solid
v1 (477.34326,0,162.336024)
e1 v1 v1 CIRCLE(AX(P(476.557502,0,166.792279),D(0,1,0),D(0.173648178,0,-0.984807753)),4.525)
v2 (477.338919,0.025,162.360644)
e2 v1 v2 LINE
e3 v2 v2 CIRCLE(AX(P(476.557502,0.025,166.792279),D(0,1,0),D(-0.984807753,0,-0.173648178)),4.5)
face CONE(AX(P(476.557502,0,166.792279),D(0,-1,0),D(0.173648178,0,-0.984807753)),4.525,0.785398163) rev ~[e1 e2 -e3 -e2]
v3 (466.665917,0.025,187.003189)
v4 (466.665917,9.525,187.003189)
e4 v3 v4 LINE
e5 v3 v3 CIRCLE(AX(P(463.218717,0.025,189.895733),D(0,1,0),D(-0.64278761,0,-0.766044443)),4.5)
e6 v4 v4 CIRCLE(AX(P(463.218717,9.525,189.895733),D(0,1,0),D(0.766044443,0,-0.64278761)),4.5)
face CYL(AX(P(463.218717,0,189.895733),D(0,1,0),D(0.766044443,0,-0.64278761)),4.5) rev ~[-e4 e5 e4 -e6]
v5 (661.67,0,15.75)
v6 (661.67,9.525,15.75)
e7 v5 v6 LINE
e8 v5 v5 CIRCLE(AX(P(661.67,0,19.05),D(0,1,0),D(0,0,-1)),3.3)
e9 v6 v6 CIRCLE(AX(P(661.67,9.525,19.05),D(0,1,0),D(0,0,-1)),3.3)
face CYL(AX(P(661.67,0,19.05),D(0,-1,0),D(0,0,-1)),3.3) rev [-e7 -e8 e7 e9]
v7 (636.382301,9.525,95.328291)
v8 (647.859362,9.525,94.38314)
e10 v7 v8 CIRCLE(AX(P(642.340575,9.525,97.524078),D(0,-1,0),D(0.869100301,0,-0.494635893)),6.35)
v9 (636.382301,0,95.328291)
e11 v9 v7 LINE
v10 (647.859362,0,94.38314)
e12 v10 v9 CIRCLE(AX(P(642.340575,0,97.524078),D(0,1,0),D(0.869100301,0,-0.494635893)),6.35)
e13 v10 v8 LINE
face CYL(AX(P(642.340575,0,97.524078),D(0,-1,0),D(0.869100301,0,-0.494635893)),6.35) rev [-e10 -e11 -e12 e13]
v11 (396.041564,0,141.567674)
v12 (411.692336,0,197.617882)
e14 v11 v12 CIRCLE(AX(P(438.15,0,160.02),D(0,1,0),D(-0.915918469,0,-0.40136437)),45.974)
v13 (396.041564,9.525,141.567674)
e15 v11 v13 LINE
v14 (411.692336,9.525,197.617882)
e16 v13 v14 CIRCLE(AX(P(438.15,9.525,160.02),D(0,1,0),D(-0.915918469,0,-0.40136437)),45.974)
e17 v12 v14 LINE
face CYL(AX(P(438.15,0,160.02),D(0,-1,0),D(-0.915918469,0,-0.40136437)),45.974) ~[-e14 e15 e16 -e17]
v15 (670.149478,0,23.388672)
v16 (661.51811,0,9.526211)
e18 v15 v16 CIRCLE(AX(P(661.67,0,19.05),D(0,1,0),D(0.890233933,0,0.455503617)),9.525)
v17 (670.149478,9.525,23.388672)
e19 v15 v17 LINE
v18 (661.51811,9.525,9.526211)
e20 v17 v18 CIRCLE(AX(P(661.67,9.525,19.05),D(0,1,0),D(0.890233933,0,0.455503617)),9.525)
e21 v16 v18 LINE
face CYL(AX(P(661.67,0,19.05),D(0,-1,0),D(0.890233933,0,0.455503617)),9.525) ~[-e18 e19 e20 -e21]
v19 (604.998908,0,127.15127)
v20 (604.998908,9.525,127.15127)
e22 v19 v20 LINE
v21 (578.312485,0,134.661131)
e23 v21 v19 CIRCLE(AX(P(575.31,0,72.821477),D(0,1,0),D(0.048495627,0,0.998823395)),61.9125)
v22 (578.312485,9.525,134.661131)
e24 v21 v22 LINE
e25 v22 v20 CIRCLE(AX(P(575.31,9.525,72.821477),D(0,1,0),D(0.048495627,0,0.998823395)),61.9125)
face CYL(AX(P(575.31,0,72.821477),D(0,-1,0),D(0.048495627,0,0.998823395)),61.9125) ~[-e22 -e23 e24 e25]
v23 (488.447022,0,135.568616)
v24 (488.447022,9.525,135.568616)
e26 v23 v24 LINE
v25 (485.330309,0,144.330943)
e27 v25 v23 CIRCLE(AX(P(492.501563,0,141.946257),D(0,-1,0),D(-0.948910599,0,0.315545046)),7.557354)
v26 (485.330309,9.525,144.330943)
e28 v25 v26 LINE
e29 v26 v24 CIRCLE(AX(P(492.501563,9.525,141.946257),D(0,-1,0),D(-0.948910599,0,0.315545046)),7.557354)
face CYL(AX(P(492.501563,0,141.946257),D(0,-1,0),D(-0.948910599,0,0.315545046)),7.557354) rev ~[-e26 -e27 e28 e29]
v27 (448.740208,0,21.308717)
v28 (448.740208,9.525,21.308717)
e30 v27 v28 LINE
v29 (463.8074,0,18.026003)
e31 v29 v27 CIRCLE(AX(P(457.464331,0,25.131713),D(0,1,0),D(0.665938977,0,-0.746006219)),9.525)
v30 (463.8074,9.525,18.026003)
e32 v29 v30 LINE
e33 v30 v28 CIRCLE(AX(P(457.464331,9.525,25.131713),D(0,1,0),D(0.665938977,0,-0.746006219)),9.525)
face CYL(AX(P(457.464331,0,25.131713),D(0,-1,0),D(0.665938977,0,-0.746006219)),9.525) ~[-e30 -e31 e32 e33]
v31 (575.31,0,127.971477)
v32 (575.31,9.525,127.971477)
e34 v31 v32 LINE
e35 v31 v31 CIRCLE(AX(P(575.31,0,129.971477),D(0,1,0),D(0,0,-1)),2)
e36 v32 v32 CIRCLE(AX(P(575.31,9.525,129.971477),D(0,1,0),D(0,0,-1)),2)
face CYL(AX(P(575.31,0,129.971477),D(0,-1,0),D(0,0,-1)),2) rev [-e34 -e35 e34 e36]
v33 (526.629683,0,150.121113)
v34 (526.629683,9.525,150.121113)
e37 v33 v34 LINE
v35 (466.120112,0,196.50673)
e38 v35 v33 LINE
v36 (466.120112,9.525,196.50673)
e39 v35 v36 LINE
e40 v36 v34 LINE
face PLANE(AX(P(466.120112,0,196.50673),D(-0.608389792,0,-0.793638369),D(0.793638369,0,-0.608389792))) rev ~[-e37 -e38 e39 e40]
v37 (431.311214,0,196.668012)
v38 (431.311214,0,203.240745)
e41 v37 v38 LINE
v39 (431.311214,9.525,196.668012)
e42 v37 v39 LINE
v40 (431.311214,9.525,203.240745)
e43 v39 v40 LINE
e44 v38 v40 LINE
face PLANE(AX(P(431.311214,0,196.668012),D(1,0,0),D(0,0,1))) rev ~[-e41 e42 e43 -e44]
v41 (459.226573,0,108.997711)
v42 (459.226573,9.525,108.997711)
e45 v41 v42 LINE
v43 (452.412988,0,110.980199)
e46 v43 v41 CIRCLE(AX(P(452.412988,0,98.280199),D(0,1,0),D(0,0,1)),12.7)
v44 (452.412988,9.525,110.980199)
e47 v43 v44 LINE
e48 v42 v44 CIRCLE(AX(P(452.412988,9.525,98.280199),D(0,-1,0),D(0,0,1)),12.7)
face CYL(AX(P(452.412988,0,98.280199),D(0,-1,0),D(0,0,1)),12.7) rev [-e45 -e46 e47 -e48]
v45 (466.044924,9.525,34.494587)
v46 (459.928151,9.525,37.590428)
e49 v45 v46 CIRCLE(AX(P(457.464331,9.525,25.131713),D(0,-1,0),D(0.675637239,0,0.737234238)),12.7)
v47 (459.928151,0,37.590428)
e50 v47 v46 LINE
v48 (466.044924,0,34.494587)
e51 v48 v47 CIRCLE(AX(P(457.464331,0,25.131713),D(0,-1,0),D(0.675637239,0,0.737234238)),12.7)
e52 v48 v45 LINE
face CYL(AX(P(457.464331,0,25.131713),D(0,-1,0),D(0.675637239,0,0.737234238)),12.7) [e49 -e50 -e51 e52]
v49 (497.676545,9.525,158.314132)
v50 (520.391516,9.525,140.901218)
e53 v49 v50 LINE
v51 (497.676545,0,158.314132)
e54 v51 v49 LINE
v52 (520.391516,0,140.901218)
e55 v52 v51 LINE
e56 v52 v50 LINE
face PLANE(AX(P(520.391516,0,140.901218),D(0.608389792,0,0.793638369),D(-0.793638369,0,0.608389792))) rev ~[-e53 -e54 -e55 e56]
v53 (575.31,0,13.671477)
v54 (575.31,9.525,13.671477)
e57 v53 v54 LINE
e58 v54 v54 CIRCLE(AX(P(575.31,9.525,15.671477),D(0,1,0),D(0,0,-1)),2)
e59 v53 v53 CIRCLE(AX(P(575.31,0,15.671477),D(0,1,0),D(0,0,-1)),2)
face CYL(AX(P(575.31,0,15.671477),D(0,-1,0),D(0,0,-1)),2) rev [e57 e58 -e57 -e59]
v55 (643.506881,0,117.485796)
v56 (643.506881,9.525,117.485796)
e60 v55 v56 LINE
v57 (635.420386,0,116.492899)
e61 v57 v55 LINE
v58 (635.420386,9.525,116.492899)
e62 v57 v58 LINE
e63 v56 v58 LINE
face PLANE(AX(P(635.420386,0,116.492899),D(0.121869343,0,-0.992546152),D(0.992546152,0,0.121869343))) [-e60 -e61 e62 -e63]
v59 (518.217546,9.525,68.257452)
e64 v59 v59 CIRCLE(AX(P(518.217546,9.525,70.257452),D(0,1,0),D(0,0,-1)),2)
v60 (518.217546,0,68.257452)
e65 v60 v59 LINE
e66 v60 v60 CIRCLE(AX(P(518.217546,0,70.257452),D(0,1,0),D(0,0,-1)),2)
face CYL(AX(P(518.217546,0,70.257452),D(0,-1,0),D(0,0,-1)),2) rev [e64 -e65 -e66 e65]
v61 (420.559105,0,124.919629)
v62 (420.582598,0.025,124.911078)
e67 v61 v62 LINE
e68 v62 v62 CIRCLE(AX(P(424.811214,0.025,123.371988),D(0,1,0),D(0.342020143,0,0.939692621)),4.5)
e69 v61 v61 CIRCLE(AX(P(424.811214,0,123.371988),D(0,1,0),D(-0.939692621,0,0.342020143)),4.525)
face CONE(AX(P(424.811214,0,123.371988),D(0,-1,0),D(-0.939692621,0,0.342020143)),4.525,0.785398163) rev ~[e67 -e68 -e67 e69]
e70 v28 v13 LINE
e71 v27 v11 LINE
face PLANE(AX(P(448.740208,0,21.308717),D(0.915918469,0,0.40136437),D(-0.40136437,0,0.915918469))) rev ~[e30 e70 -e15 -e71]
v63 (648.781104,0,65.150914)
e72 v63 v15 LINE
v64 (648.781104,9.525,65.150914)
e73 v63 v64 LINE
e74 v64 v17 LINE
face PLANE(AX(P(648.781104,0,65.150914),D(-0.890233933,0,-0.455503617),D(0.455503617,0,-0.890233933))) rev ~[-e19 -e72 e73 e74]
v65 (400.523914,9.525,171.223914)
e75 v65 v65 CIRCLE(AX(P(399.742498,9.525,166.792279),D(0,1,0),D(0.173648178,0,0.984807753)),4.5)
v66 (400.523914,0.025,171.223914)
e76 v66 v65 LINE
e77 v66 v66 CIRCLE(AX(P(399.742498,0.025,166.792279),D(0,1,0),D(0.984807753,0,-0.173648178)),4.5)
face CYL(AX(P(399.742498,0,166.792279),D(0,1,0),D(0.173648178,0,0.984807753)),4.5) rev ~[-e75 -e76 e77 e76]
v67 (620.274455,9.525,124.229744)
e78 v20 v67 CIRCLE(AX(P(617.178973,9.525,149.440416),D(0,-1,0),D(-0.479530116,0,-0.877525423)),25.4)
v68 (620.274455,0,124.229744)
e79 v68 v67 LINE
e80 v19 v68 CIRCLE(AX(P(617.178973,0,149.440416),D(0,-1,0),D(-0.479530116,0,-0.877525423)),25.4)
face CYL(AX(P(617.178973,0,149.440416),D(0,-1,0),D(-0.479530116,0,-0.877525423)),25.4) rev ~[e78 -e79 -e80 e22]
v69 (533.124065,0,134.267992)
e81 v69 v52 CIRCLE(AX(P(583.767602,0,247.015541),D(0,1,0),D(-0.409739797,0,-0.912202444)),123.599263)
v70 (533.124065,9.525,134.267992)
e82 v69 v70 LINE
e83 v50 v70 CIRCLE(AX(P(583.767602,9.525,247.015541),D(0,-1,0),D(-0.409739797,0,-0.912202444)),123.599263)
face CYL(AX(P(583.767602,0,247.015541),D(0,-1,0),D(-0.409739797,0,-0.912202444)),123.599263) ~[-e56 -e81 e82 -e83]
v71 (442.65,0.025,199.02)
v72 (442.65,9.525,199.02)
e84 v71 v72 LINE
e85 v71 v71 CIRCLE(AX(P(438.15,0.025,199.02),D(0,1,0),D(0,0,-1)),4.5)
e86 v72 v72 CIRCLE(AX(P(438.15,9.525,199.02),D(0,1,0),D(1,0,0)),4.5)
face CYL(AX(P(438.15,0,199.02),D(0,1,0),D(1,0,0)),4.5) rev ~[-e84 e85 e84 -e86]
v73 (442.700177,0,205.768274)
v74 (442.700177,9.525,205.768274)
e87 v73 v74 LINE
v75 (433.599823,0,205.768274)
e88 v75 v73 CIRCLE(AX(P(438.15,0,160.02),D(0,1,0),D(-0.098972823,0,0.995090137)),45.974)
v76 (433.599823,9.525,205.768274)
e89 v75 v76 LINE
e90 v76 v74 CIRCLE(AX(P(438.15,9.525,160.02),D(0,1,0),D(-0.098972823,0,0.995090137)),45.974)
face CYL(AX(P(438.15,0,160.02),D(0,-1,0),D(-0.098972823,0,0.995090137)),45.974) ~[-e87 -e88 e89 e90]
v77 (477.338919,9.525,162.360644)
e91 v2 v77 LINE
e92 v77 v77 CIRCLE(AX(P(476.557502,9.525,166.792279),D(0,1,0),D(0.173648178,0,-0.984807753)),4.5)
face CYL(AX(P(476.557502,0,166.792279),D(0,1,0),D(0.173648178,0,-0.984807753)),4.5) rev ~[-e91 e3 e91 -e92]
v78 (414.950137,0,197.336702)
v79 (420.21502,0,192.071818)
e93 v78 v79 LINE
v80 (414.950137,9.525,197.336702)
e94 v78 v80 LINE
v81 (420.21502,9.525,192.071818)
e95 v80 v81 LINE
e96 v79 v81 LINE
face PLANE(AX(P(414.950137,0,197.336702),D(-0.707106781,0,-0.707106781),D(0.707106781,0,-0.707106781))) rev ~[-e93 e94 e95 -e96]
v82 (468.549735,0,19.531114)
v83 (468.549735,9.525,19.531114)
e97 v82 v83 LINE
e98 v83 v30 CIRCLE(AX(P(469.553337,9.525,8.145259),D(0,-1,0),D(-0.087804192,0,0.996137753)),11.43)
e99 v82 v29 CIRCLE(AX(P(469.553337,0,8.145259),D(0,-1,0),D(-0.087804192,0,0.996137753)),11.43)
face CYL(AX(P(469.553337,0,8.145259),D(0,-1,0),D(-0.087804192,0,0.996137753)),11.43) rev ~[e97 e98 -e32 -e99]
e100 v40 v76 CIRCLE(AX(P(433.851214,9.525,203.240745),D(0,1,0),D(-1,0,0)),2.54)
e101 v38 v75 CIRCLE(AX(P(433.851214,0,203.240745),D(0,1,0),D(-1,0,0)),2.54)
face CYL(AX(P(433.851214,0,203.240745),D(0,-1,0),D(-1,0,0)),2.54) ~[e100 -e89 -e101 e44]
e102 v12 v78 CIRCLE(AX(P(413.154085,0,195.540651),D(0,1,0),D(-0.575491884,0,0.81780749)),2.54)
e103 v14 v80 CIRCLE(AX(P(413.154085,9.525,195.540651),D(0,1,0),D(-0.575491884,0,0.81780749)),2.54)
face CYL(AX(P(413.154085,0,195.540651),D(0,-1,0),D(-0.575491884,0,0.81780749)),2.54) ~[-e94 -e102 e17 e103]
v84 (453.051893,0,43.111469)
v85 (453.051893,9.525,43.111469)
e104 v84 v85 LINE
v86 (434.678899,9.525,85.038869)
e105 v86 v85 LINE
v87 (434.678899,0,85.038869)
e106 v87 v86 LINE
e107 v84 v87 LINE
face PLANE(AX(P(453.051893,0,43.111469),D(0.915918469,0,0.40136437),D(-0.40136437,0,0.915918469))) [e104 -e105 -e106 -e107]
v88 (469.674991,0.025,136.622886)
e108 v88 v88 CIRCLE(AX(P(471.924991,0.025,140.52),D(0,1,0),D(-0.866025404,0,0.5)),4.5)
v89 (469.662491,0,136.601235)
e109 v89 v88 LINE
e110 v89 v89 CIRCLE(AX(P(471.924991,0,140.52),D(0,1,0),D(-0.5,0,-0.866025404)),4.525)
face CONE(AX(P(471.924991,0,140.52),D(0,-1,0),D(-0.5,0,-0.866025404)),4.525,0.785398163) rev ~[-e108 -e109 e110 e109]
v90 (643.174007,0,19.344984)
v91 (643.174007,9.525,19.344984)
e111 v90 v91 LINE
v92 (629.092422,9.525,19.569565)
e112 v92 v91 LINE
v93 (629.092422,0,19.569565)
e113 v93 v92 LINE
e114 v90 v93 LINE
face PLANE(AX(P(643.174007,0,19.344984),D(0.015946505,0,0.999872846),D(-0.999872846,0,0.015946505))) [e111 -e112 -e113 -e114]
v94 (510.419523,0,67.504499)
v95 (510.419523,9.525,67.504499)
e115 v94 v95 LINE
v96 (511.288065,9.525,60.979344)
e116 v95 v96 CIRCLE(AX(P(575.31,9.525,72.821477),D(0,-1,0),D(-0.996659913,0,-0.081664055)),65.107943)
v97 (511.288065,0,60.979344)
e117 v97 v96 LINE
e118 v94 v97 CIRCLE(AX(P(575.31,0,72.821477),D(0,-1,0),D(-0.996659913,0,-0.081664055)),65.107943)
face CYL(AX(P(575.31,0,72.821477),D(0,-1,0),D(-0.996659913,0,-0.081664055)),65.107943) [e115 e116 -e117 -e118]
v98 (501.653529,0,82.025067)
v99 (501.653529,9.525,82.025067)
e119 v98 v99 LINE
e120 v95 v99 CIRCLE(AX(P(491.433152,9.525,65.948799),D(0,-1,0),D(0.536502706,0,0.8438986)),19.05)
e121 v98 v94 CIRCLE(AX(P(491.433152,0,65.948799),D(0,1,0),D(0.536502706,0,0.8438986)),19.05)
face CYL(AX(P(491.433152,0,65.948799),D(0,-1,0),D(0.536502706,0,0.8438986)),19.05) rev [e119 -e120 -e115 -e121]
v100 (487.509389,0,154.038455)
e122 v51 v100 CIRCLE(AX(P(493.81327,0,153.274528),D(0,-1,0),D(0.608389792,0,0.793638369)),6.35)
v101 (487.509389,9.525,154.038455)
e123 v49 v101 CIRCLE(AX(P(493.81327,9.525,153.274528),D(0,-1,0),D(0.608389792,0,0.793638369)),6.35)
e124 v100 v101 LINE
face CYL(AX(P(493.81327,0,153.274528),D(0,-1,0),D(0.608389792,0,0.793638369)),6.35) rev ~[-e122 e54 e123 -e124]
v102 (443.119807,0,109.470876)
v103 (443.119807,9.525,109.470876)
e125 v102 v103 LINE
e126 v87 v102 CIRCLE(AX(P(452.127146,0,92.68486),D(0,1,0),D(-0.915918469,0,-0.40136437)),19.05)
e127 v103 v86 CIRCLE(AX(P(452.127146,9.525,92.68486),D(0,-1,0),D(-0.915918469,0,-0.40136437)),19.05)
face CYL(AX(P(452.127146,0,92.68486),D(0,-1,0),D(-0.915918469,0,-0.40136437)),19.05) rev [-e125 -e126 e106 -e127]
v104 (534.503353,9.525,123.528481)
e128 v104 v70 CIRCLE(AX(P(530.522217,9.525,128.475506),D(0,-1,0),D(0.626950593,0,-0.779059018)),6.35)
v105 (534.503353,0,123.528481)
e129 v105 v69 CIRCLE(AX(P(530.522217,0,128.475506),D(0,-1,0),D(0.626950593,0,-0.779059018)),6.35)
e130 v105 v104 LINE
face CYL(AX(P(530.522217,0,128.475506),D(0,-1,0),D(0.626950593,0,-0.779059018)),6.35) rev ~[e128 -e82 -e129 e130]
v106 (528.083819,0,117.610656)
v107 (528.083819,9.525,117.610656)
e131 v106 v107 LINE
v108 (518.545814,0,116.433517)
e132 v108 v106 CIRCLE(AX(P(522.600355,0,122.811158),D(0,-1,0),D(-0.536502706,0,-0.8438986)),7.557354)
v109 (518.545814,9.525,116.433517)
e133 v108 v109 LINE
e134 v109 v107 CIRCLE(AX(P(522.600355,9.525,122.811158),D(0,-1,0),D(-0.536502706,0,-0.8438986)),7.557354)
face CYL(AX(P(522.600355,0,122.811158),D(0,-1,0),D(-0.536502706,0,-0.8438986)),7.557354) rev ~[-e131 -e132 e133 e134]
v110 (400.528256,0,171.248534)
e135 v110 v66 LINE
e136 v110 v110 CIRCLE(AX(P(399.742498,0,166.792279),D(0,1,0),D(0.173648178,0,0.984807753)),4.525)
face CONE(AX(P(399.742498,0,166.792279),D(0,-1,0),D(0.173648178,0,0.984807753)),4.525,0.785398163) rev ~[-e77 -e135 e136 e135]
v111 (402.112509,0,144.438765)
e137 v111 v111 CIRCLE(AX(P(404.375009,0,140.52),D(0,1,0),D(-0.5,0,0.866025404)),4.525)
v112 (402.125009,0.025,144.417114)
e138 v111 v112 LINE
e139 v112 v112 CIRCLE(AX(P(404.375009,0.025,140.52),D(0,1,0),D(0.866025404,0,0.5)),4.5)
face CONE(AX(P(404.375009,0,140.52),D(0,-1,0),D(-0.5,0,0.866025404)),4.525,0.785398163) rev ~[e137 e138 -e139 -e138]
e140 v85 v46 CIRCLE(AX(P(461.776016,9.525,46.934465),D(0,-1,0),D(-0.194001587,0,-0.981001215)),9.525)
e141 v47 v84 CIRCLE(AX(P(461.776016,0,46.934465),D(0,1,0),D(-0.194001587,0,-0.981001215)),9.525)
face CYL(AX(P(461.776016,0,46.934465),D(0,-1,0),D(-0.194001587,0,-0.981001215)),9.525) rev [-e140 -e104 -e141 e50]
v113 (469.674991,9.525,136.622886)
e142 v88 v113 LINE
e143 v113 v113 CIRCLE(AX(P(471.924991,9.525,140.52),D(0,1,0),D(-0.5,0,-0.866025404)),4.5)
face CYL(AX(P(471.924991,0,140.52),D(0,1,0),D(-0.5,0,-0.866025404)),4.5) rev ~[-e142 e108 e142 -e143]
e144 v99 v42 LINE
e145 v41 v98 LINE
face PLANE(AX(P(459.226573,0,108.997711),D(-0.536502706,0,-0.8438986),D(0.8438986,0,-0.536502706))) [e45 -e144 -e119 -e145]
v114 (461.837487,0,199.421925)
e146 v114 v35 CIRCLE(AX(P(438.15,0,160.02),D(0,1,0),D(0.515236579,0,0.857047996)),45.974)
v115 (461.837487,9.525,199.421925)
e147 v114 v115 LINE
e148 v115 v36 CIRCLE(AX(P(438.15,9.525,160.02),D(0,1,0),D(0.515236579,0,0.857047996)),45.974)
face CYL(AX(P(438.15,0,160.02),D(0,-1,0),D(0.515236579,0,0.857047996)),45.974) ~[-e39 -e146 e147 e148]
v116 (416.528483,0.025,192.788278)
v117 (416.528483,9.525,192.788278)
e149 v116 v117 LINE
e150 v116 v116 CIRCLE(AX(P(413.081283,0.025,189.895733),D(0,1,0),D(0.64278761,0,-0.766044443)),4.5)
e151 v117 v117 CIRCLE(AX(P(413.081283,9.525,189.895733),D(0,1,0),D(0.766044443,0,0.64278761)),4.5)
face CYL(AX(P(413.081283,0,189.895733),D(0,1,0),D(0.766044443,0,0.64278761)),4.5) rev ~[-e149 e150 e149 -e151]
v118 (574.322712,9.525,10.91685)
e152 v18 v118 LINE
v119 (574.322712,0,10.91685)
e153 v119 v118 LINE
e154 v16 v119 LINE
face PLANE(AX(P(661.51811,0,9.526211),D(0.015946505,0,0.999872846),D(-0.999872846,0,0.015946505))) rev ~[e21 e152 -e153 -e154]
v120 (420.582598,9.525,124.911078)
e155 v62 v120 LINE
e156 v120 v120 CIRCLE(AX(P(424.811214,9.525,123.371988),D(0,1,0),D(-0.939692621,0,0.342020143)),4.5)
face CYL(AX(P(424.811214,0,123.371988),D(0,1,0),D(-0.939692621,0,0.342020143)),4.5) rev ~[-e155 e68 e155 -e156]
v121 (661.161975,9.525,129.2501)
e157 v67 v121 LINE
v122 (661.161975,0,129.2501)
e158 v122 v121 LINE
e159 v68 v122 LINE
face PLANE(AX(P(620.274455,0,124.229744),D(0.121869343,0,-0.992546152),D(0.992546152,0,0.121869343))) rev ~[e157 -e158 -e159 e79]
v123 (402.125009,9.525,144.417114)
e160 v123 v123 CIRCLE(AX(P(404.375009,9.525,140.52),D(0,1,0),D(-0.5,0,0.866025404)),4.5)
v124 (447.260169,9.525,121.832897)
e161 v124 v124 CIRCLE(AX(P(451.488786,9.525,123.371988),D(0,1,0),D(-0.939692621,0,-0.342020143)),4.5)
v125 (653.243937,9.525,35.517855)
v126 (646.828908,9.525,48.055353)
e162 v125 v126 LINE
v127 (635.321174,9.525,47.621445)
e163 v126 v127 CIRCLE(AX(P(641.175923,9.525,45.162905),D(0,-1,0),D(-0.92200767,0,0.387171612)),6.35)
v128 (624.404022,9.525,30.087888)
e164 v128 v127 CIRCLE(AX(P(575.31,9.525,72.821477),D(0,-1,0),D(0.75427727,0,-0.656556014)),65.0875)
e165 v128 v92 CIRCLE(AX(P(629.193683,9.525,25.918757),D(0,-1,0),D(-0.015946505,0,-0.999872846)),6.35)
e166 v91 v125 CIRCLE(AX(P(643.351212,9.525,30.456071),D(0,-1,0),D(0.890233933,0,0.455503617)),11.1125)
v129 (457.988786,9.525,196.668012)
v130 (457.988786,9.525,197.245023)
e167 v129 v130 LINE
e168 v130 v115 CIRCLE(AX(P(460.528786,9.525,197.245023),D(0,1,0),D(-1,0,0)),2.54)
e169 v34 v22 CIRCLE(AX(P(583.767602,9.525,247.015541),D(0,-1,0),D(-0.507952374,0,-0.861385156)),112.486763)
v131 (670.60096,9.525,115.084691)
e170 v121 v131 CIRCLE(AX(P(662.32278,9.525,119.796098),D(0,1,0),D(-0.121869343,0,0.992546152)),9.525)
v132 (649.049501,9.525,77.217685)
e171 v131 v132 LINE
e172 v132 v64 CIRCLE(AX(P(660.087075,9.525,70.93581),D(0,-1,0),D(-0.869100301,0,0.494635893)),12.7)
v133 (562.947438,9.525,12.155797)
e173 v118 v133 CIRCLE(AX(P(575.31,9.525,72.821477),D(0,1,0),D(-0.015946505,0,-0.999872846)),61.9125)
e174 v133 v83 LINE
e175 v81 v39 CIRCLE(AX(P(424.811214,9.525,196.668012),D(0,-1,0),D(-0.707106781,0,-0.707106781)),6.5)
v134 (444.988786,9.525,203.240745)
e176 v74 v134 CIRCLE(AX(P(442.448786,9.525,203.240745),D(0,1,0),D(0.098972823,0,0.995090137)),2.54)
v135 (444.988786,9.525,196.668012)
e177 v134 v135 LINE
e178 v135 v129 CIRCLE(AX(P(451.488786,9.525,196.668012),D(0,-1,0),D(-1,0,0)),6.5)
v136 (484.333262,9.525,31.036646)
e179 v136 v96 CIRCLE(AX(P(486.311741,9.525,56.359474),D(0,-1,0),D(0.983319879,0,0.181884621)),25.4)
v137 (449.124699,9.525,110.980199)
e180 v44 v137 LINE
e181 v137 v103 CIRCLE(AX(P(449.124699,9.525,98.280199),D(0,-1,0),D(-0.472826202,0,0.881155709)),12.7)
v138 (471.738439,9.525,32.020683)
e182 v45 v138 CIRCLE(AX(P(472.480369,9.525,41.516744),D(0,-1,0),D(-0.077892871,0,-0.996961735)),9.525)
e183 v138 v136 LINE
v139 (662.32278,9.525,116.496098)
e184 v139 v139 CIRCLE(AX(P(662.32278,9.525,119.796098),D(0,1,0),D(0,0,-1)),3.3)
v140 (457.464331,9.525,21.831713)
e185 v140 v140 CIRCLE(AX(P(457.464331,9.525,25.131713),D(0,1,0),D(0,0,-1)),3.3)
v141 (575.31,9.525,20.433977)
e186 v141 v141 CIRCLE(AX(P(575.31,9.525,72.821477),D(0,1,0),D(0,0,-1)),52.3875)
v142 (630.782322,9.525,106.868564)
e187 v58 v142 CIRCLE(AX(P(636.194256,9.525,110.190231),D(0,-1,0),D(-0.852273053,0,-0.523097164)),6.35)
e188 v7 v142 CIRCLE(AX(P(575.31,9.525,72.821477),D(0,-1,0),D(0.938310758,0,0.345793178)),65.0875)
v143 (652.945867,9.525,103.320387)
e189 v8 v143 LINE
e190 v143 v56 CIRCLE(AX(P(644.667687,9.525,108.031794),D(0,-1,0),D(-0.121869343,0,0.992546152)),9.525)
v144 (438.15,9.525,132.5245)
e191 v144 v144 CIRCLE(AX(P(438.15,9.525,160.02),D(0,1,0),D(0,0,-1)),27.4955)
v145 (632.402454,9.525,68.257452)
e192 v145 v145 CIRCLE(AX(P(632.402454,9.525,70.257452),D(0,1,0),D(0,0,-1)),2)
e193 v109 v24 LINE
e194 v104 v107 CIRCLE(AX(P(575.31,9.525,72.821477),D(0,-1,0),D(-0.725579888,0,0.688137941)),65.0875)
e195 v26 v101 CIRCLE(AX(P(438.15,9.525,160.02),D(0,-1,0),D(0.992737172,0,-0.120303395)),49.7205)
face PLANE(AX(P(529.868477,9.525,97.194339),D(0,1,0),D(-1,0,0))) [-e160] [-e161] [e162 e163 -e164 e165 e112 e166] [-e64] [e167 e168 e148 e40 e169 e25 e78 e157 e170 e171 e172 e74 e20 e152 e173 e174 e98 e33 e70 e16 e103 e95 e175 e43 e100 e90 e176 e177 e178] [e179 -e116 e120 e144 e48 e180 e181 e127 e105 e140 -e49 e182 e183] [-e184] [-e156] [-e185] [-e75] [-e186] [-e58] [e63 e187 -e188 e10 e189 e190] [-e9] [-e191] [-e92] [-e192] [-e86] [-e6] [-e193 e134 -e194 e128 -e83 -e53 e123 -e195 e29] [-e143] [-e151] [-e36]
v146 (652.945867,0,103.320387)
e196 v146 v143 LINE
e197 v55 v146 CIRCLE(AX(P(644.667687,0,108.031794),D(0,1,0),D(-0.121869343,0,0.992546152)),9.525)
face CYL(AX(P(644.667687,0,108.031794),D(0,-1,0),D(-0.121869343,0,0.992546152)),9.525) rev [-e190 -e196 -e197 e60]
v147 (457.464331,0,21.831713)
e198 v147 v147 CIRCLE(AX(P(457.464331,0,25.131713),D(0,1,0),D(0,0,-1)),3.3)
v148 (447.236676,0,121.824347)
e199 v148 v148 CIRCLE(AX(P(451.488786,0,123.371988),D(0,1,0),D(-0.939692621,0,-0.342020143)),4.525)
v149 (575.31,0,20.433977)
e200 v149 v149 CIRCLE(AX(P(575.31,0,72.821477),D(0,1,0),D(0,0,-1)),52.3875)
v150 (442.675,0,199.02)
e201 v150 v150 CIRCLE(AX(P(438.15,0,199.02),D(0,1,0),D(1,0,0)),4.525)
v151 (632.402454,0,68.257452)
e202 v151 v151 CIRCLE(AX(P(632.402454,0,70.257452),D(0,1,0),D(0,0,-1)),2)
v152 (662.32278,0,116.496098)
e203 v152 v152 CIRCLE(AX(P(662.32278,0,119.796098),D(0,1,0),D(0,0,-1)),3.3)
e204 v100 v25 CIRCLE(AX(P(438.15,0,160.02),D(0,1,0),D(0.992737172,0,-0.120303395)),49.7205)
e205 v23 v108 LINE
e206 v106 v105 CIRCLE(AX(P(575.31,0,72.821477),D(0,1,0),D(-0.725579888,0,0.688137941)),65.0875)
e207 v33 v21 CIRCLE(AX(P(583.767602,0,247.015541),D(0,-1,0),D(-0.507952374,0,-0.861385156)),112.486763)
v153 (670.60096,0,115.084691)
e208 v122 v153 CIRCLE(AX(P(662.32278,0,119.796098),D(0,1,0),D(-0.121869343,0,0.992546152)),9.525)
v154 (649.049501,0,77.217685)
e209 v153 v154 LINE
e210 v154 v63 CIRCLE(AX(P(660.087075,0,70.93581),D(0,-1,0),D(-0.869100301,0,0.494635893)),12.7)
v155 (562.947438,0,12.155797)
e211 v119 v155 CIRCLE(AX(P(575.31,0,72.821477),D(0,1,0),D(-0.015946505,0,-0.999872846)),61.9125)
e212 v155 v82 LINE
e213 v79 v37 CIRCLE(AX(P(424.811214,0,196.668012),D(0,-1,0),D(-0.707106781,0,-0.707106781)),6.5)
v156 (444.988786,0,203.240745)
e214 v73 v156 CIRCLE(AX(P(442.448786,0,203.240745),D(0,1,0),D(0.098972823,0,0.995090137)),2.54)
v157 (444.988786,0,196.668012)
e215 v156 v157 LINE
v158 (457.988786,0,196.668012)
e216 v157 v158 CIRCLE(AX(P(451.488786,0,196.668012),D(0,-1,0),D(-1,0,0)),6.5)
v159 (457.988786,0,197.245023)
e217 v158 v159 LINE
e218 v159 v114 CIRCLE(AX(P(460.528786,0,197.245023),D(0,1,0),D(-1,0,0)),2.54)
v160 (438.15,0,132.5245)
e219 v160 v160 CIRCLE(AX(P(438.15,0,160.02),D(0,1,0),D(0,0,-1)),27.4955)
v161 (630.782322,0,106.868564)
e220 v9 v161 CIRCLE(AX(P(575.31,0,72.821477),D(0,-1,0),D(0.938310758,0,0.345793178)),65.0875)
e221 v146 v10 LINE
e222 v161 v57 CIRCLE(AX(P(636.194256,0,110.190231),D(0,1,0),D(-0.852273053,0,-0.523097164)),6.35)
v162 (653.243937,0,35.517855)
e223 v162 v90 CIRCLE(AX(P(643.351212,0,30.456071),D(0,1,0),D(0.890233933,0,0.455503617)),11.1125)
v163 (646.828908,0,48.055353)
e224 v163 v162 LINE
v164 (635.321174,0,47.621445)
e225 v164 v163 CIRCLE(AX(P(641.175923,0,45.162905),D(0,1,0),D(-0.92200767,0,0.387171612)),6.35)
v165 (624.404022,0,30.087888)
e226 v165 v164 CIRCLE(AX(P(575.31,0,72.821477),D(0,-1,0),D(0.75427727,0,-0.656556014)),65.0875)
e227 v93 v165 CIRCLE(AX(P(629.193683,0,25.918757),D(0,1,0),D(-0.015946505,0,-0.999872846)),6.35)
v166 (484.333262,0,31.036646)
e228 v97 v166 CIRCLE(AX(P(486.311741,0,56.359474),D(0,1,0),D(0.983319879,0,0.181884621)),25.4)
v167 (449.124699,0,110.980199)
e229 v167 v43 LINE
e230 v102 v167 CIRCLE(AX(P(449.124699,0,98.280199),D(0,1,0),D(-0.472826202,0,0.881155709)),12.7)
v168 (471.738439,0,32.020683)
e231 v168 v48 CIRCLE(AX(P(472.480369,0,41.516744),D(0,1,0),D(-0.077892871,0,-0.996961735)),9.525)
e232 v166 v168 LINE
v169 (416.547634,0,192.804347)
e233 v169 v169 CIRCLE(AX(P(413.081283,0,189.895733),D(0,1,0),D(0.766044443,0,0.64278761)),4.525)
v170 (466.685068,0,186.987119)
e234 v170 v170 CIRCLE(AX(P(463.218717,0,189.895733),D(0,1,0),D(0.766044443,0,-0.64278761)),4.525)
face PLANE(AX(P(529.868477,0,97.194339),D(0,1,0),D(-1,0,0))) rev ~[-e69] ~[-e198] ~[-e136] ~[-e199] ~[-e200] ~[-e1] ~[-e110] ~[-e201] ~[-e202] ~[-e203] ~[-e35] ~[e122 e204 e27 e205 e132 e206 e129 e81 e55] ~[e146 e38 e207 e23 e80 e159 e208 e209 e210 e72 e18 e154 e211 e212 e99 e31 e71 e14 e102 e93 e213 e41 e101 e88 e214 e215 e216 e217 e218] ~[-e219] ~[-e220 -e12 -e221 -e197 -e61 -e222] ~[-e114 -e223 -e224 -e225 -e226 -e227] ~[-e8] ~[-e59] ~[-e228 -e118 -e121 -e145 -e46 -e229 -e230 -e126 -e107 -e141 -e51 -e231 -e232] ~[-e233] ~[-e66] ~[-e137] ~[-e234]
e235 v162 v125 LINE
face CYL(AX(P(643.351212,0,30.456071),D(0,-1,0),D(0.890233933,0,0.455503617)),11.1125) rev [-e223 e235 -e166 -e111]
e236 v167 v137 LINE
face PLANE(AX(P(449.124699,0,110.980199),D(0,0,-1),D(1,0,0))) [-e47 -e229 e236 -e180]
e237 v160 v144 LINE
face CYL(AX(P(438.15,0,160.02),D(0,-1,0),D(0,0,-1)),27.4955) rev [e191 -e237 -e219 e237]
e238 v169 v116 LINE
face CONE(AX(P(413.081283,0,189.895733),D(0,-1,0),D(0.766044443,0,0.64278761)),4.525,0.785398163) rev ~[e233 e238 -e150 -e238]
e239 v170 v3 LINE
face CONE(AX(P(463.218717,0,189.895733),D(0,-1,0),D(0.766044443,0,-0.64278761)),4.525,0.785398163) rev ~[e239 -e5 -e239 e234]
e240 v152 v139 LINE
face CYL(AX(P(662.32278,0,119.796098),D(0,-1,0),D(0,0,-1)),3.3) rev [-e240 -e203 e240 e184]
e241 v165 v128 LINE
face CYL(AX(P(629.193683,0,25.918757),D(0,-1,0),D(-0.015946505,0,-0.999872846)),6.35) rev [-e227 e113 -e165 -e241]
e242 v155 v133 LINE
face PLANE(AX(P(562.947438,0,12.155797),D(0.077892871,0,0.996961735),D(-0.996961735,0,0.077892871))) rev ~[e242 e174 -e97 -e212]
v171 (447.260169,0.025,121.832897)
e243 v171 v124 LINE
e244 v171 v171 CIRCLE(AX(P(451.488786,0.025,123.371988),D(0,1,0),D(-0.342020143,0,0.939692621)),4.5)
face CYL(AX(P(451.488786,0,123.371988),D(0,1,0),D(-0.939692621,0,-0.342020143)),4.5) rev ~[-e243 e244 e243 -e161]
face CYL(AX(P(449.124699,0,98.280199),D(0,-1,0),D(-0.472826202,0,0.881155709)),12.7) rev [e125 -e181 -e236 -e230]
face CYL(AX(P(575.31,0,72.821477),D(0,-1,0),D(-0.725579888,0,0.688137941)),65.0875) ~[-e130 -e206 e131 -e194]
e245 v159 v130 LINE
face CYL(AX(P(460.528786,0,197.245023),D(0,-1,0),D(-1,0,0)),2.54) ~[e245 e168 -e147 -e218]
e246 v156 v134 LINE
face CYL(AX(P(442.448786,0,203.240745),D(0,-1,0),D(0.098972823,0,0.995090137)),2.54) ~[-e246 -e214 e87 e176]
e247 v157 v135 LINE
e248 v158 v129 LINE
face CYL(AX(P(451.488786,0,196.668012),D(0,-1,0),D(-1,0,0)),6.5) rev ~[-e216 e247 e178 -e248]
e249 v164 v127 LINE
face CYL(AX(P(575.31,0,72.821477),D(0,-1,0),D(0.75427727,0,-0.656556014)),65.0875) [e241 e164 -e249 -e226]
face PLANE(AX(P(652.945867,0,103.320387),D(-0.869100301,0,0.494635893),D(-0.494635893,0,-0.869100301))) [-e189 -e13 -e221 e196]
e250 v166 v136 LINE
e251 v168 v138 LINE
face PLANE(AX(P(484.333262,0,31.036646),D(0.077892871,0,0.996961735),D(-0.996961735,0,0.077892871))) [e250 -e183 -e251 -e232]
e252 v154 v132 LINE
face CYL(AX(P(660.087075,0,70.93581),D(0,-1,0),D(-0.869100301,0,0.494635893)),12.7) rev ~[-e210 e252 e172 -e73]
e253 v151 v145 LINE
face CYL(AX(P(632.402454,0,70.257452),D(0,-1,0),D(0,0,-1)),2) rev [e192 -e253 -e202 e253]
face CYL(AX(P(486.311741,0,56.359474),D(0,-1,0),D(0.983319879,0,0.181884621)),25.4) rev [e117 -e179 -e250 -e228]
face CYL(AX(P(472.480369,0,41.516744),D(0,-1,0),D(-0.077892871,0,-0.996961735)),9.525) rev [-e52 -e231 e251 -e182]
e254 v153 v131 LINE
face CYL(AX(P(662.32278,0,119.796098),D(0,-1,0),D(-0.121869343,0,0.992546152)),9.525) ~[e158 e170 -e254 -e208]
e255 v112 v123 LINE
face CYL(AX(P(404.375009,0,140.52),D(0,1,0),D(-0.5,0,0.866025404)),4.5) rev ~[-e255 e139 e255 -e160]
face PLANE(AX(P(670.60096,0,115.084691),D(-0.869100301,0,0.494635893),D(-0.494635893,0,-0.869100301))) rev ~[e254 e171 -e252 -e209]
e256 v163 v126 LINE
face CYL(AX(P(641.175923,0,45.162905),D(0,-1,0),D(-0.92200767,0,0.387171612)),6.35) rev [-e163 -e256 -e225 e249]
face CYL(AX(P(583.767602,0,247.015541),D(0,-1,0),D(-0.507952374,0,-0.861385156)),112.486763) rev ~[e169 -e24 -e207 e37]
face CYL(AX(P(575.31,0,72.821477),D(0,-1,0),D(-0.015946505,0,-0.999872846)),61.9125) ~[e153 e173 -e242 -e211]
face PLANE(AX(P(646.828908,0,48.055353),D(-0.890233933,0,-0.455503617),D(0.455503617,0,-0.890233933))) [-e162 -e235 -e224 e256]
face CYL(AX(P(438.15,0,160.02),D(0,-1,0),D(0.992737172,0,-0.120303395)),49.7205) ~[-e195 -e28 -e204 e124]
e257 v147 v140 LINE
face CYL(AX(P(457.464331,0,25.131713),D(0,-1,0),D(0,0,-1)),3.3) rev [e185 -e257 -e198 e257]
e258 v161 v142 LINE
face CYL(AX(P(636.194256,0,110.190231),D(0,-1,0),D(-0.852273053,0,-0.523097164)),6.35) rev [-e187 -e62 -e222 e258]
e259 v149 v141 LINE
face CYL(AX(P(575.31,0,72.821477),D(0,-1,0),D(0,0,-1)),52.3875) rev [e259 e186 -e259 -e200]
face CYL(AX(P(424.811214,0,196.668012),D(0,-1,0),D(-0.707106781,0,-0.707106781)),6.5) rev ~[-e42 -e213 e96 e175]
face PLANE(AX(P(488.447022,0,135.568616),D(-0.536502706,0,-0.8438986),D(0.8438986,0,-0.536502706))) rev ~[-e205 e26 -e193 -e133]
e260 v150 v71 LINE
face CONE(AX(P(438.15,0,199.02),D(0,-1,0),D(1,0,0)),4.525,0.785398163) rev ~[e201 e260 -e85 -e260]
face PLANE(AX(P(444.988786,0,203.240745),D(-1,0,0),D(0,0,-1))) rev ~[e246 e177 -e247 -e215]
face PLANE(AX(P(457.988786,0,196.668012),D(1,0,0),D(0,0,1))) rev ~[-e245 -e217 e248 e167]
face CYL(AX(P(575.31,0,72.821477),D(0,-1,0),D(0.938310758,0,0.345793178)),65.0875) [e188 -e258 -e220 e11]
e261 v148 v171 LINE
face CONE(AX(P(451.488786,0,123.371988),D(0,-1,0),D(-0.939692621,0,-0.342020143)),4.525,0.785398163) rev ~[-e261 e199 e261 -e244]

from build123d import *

# Parameters (mm, degrees)
SKETCH1_R                      = 27.4955
SKETCH1_R_2                    = 2
SKETCH1_R_3                    = 52.3875
SKETCH1_R_4                    = 3.3
BOSS_EXTRUDE1_DEPTH            = 9.525
M8_CLEARANCE_HOLE1_D           = 9
M8_CLEARANCE_HOLE1_CSINK_D     = 9.05
M8_CLEARANCE_HOLE1_CSINK_ANGLE = 90
CIRPATTERN1_COUNT              = 9
CUT_EXTRUDE2_DEPTH             = 703.782820758


with BuildPart() as part:
    # Sketch1 → Boss-Extrude1 (new body)
    with BuildSketch(Plane(origin=(0, 0, 0), x_dir=(-1, 0, 0), z_dir=(0, 1, 0))):
        with BuildLine():
            Line((-661.518109544, 9.526211138), (-574.322712035, 10.916849768))
            ThreePointArc((-574.322712035, 10.916849768), (-568.60639118, 11.272965732), (-562.947438024, 12.155797473))
            Line((-562.947438024, 12.155797473), (-468.549735034, 19.531113755))
            ThreePointArc((-468.549735034, 19.531113755), (-466.095677504, 19.039729903), (-463.807399751, 18.026003423))
            ThreePointArc((-463.807399751, 18.026003423), (-455.436670398, 15.825036693), (-448.740207572, 21.308717033))
            Line((-448.740207572, 21.308717033), (-396.041564291, 141.567674451))
            ThreePointArc((-396.041564291, 141.567674451), (-393.869824608, 172.384252636), (-411.692336104, 197.617881552))
            ThreePointArc((-411.692336104, 197.617881552), (-413.372500119, 198.071242365), (-414.950136715, 197.336701751))
            Line((-414.950136715, 197.336701751), (-420.215020333, 192.071818133))
            ThreePointArc((-420.215020333, 192.071818133), (-427.298656721, 190.662795249), (-431.31121441, 196.668012211))
            Line((-431.31121441, 196.668012211), (-431.31121441, 203.240745001))
            ThreePointArc((-431.31121441, 203.240745001), (-431.968379704, 204.945600851), (-433.59982344, 205.768273949))
            ThreePointArc((-433.59982344, 205.768273949), (-438.15, 205.994), (-442.70017656, 205.768273949))
            ThreePointArc((-442.70017656, 205.768273949), (-444.331620296, 204.945600851), (-444.98878559, 203.240745001))
            Line((-444.98878559, 203.240745001), (-444.98878559, 196.668012211))
            ThreePointArc((-444.98878559, 196.668012211), (-451.48878559, 190.168012211), (-457.98878559, 196.668012211))
            Line((-457.98878559, 196.668012211), (-457.98878559, 197.245022653))
            ThreePointArc((-457.98878559, 197.245022653), (-459.278285753, 199.455870942), (-461.837486501, 199.421924563))
            ThreePointArc((-461.837486501, 199.421924563), (-464.019895008, 198.024699819), (-466.120112298, 196.506730383))
            Line((-466.120112298, 196.506730383), (-526.629683433, 150.121113421))
            ThreePointArc((-526.629683433, 150.121113421), (-551.530592574, 139.247052869), (-578.312485484, 134.661130809))
            ThreePointArc((-578.312485484, 134.661130809), (-592.081443241, 132.419097692), (-604.99890828, 127.151270133))
            ThreePointArc((-604.99890828, 127.151270133), (-612.407574664, 124.492595217), (-620.274454537, 124.229743629))
            Line((-620.274454537, 124.229743629), (-661.161974504, 129.250099814))
            ThreePointArc((-661.161974504, 129.250099814), (-670.249252048, 125.077827159), (-670.600960367, 115.084690838))
            Line((-670.600960367, 115.084690838), (-649.049500747, 77.217685424))
            ThreePointArc((-649.049500747, 77.217685424), (-647.390214978, 71.218221534), (-648.781103624, 65.150913646))
            Line((-648.781103624, 65.150913646), (-670.149478209, 23.388671951))
            ThreePointArc((-670.149478209, 23.388671951), (-669.755736478, 14.01547017), (-661.518109544, 9.526211138))
        make_face()
        with Locations((-438.15, 160.02)):
            Circle(SKETCH1_R, mode=Mode.SUBTRACT)
        with Locations((-632.402453753, 70.257452317)):
            Circle(SKETCH1_R_2, mode=Mode.SUBTRACT)
        with Locations((-575.31, 72.821477372)):
            Circle(SKETCH1_R_3, mode=Mode.SUBTRACT)
        with Locations((-662.32278, 119.79609772)):
            Circle(SKETCH1_R_4, mode=Mode.SUBTRACT)
        with Locations((-661.67, 19.05)):
            Circle(SKETCH1_R_4, mode=Mode.SUBTRACT)
        with Locations((-457.464330992, 25.131712658)):
            Circle(SKETCH1_R_4, mode=Mode.SUBTRACT)
        with BuildLine():
            ThreePointArc((-518.217546247, 72.257452317), (-520.217546247, 70.257452317), (-518.217546247, 68.257452317))
            ThreePointArc((-518.217546247, 68.257452317), (-516.217546247, 70.257452317), (-518.217546247, 72.257452317))
        make_face(mode=Mode.SUBTRACT)
        with BuildLine():
            ThreePointArc((-575.31, 17.671477372), (-577.31, 15.671477372), (-575.31, 13.671477372))
            ThreePointArc((-575.31, 13.671477372), (-573.31, 15.671477372), (-575.31, 17.671477372))
        make_face(mode=Mode.SUBTRACT)
        with BuildLine():
            ThreePointArc((-575.31, 131.971477372), (-577.31, 129.971477372), (-575.31, 127.971477372))
            ThreePointArc((-575.31, 127.971477372), (-573.31, 129.971477372), (-575.31, 131.971477372))
        make_face(mode=Mode.SUBTRACT)
    extrude(amount=BOSS_EXTRUDE1_DEPTH)

    # M8 Clearance Hole1 (through all)
    with Locations(Plane(origin=(0, 0, 0), x_dir=(-1, 0, 0), z_dir=(0, -1, 0))):
        with Locations((-438.15, -199.019999978)):
            m8_clearance_hole1 = CounterSinkHole(M8_CLEARANCE_HOLE1_D / 2, M8_CLEARANCE_HOLE1_CSINK_D / 2, counter_sink_angle=M8_CLEARANCE_HOLE1_CSINK_ANGLE)

    # CirPattern1: M8 Clearance Hole1 ×9 about axis
    cirpattern1_axis = Axis((438.15, 9.525, 160.02), (0, -1, 0))
    for i in range(1, CIRPATTERN1_COUNT):
        add(m8_clearance_hole1.rotate(cirpattern1_axis, i * 360 / CIRPATTERN1_COUNT), mode=Mode.SUBTRACT)

    # Sketch10 → Cut-Extrude2 (cut, through all)
    with BuildSketch(Plane.XZ):
        with BuildLine():
            Line((501.653528527, 82.025066826), (459.226572507, 108.99771107))
            ThreePointArc((459.226572507, 108.99771107), (455.961057678, 110.474509108), (452.412988142, 110.980198854))
            Line((452.412988142, 110.980198854), (449.124699442, 110.980198854))
            ThreePointArc((449.124699442, 110.980198854), (446.028863873, 110.597089782), (443.119806681, 109.470876354))
            ThreePointArc((443.119806681, 109.470876354), (434.121445197, 98.905571071), (434.678898983, 85.038868854))
            Line((434.678898983, 85.038868854), (453.051892844, 43.11146904))
            ThreePointArc((453.051892844, 43.11146904), (455.812610468, 39.507256825), (459.928151148, 37.590428091))
            ThreePointArc((459.928151148, 37.590428091), (463.199383075, 36.463048748), (466.044923926, 34.494587478))
            ThreePointArc((466.044923926, 34.494587478), (468.684485829, 32.780789222), (471.738439028, 32.02068307))
            Line((471.738439028, 32.02068307), (484.33326163, 31.036646412))
            ThreePointArc((484.33326163, 31.036646412), (505.189412889, 39.365549463), (511.288065486, 60.979343851))
            ThreePointArc((511.288065486, 60.979343851), (510.771276342, 64.230937589), (510.419523322, 67.504498748))
            ThreePointArc((510.419523322, 67.504498748), (507.74174649, 75.794215969), (501.653528527, 82.025066826))
        make_face()
        with BuildLine():
            ThreePointArc((518.5458141, 116.433517192), (523.526027217, 115.31070897), (528.083819046, 117.610655627))
            ThreePointArc((528.083819046, 117.610655627), (531.194244853, 120.677331811), (534.503353276, 123.528481221))
            ThreePointArc((534.503353276, 123.528481221), (536.820485804, 129.284400418), (533.124064721, 134.267991506))
            ThreePointArc((533.124064721, 134.267991506), (526.661398117, 137.399578344), (520.391516426, 140.901217866))
            Line((520.391516426, 140.901217866), (497.676544793, 158.314132116))
            ThreePointArc((497.676544793, 158.314132116), (491.351665893, 159.127989595), (487.50938857, 154.038455032))
            ThreePointArc((487.50938857, 154.038455032), (486.663269024, 149.130057447), (485.330309415, 144.330942547))
            ThreePointArc((485.330309415, 144.330942547), (485.381225421, 139.4135911), (488.447021855, 135.568616467))
            Line((488.447021855, 135.568616467), (518.5458141, 116.433517192))
        make_face()
        with BuildLine():
            ThreePointArc((624.404021839, 30.087887821), (623.393763709, 23.333521757), (629.092422202, 19.569564558))
            Line((629.092422202, 19.569564558), (643.174006589, 19.344983952))
            ThreePointArc((643.174006589, 19.344983952), (652.784571346, 24.582452823), (653.243936699, 35.517854901))
            Line((653.243936699, 35.517854901), (646.828908384, 48.055353336))
            ThreePointArc((646.828908384, 48.055353336), (640.936661153, 51.508396194), (635.321174208, 47.621445103))
            ThreePointArc((635.321174208, 47.621445103), (630.562532601, 38.41885687), (624.404021839, 30.087887821))
        make_face()
        with BuildLine():
            ThreePointArc((630.78232235, 106.868564021), (633.867295103, 101.236717058), (636.38230144, 95.328290853))
            ThreePointArc((636.38230144, 95.328290853), (641.819407992, 91.195500663), (647.859361663, 94.383139612))
            Line((647.859361663, 94.383139612), (652.945866946, 103.320386857))
            ThreePointArc((652.945866946, 103.320386857), (652.594158627, 113.313523178), (643.506881083, 117.485795833))
            Line((643.506881083, 117.485795833), (635.420385908, 116.492899074))
            ThreePointArc((635.420385908, 116.492899074), (630.473854175, 112.946950119), (630.78232235, 106.868564021))
        make_face()
    extrude(amount=-CUT_EXTRUDE2_DEPTH, mode=Mode.SUBTRACT)


solid = part.part
